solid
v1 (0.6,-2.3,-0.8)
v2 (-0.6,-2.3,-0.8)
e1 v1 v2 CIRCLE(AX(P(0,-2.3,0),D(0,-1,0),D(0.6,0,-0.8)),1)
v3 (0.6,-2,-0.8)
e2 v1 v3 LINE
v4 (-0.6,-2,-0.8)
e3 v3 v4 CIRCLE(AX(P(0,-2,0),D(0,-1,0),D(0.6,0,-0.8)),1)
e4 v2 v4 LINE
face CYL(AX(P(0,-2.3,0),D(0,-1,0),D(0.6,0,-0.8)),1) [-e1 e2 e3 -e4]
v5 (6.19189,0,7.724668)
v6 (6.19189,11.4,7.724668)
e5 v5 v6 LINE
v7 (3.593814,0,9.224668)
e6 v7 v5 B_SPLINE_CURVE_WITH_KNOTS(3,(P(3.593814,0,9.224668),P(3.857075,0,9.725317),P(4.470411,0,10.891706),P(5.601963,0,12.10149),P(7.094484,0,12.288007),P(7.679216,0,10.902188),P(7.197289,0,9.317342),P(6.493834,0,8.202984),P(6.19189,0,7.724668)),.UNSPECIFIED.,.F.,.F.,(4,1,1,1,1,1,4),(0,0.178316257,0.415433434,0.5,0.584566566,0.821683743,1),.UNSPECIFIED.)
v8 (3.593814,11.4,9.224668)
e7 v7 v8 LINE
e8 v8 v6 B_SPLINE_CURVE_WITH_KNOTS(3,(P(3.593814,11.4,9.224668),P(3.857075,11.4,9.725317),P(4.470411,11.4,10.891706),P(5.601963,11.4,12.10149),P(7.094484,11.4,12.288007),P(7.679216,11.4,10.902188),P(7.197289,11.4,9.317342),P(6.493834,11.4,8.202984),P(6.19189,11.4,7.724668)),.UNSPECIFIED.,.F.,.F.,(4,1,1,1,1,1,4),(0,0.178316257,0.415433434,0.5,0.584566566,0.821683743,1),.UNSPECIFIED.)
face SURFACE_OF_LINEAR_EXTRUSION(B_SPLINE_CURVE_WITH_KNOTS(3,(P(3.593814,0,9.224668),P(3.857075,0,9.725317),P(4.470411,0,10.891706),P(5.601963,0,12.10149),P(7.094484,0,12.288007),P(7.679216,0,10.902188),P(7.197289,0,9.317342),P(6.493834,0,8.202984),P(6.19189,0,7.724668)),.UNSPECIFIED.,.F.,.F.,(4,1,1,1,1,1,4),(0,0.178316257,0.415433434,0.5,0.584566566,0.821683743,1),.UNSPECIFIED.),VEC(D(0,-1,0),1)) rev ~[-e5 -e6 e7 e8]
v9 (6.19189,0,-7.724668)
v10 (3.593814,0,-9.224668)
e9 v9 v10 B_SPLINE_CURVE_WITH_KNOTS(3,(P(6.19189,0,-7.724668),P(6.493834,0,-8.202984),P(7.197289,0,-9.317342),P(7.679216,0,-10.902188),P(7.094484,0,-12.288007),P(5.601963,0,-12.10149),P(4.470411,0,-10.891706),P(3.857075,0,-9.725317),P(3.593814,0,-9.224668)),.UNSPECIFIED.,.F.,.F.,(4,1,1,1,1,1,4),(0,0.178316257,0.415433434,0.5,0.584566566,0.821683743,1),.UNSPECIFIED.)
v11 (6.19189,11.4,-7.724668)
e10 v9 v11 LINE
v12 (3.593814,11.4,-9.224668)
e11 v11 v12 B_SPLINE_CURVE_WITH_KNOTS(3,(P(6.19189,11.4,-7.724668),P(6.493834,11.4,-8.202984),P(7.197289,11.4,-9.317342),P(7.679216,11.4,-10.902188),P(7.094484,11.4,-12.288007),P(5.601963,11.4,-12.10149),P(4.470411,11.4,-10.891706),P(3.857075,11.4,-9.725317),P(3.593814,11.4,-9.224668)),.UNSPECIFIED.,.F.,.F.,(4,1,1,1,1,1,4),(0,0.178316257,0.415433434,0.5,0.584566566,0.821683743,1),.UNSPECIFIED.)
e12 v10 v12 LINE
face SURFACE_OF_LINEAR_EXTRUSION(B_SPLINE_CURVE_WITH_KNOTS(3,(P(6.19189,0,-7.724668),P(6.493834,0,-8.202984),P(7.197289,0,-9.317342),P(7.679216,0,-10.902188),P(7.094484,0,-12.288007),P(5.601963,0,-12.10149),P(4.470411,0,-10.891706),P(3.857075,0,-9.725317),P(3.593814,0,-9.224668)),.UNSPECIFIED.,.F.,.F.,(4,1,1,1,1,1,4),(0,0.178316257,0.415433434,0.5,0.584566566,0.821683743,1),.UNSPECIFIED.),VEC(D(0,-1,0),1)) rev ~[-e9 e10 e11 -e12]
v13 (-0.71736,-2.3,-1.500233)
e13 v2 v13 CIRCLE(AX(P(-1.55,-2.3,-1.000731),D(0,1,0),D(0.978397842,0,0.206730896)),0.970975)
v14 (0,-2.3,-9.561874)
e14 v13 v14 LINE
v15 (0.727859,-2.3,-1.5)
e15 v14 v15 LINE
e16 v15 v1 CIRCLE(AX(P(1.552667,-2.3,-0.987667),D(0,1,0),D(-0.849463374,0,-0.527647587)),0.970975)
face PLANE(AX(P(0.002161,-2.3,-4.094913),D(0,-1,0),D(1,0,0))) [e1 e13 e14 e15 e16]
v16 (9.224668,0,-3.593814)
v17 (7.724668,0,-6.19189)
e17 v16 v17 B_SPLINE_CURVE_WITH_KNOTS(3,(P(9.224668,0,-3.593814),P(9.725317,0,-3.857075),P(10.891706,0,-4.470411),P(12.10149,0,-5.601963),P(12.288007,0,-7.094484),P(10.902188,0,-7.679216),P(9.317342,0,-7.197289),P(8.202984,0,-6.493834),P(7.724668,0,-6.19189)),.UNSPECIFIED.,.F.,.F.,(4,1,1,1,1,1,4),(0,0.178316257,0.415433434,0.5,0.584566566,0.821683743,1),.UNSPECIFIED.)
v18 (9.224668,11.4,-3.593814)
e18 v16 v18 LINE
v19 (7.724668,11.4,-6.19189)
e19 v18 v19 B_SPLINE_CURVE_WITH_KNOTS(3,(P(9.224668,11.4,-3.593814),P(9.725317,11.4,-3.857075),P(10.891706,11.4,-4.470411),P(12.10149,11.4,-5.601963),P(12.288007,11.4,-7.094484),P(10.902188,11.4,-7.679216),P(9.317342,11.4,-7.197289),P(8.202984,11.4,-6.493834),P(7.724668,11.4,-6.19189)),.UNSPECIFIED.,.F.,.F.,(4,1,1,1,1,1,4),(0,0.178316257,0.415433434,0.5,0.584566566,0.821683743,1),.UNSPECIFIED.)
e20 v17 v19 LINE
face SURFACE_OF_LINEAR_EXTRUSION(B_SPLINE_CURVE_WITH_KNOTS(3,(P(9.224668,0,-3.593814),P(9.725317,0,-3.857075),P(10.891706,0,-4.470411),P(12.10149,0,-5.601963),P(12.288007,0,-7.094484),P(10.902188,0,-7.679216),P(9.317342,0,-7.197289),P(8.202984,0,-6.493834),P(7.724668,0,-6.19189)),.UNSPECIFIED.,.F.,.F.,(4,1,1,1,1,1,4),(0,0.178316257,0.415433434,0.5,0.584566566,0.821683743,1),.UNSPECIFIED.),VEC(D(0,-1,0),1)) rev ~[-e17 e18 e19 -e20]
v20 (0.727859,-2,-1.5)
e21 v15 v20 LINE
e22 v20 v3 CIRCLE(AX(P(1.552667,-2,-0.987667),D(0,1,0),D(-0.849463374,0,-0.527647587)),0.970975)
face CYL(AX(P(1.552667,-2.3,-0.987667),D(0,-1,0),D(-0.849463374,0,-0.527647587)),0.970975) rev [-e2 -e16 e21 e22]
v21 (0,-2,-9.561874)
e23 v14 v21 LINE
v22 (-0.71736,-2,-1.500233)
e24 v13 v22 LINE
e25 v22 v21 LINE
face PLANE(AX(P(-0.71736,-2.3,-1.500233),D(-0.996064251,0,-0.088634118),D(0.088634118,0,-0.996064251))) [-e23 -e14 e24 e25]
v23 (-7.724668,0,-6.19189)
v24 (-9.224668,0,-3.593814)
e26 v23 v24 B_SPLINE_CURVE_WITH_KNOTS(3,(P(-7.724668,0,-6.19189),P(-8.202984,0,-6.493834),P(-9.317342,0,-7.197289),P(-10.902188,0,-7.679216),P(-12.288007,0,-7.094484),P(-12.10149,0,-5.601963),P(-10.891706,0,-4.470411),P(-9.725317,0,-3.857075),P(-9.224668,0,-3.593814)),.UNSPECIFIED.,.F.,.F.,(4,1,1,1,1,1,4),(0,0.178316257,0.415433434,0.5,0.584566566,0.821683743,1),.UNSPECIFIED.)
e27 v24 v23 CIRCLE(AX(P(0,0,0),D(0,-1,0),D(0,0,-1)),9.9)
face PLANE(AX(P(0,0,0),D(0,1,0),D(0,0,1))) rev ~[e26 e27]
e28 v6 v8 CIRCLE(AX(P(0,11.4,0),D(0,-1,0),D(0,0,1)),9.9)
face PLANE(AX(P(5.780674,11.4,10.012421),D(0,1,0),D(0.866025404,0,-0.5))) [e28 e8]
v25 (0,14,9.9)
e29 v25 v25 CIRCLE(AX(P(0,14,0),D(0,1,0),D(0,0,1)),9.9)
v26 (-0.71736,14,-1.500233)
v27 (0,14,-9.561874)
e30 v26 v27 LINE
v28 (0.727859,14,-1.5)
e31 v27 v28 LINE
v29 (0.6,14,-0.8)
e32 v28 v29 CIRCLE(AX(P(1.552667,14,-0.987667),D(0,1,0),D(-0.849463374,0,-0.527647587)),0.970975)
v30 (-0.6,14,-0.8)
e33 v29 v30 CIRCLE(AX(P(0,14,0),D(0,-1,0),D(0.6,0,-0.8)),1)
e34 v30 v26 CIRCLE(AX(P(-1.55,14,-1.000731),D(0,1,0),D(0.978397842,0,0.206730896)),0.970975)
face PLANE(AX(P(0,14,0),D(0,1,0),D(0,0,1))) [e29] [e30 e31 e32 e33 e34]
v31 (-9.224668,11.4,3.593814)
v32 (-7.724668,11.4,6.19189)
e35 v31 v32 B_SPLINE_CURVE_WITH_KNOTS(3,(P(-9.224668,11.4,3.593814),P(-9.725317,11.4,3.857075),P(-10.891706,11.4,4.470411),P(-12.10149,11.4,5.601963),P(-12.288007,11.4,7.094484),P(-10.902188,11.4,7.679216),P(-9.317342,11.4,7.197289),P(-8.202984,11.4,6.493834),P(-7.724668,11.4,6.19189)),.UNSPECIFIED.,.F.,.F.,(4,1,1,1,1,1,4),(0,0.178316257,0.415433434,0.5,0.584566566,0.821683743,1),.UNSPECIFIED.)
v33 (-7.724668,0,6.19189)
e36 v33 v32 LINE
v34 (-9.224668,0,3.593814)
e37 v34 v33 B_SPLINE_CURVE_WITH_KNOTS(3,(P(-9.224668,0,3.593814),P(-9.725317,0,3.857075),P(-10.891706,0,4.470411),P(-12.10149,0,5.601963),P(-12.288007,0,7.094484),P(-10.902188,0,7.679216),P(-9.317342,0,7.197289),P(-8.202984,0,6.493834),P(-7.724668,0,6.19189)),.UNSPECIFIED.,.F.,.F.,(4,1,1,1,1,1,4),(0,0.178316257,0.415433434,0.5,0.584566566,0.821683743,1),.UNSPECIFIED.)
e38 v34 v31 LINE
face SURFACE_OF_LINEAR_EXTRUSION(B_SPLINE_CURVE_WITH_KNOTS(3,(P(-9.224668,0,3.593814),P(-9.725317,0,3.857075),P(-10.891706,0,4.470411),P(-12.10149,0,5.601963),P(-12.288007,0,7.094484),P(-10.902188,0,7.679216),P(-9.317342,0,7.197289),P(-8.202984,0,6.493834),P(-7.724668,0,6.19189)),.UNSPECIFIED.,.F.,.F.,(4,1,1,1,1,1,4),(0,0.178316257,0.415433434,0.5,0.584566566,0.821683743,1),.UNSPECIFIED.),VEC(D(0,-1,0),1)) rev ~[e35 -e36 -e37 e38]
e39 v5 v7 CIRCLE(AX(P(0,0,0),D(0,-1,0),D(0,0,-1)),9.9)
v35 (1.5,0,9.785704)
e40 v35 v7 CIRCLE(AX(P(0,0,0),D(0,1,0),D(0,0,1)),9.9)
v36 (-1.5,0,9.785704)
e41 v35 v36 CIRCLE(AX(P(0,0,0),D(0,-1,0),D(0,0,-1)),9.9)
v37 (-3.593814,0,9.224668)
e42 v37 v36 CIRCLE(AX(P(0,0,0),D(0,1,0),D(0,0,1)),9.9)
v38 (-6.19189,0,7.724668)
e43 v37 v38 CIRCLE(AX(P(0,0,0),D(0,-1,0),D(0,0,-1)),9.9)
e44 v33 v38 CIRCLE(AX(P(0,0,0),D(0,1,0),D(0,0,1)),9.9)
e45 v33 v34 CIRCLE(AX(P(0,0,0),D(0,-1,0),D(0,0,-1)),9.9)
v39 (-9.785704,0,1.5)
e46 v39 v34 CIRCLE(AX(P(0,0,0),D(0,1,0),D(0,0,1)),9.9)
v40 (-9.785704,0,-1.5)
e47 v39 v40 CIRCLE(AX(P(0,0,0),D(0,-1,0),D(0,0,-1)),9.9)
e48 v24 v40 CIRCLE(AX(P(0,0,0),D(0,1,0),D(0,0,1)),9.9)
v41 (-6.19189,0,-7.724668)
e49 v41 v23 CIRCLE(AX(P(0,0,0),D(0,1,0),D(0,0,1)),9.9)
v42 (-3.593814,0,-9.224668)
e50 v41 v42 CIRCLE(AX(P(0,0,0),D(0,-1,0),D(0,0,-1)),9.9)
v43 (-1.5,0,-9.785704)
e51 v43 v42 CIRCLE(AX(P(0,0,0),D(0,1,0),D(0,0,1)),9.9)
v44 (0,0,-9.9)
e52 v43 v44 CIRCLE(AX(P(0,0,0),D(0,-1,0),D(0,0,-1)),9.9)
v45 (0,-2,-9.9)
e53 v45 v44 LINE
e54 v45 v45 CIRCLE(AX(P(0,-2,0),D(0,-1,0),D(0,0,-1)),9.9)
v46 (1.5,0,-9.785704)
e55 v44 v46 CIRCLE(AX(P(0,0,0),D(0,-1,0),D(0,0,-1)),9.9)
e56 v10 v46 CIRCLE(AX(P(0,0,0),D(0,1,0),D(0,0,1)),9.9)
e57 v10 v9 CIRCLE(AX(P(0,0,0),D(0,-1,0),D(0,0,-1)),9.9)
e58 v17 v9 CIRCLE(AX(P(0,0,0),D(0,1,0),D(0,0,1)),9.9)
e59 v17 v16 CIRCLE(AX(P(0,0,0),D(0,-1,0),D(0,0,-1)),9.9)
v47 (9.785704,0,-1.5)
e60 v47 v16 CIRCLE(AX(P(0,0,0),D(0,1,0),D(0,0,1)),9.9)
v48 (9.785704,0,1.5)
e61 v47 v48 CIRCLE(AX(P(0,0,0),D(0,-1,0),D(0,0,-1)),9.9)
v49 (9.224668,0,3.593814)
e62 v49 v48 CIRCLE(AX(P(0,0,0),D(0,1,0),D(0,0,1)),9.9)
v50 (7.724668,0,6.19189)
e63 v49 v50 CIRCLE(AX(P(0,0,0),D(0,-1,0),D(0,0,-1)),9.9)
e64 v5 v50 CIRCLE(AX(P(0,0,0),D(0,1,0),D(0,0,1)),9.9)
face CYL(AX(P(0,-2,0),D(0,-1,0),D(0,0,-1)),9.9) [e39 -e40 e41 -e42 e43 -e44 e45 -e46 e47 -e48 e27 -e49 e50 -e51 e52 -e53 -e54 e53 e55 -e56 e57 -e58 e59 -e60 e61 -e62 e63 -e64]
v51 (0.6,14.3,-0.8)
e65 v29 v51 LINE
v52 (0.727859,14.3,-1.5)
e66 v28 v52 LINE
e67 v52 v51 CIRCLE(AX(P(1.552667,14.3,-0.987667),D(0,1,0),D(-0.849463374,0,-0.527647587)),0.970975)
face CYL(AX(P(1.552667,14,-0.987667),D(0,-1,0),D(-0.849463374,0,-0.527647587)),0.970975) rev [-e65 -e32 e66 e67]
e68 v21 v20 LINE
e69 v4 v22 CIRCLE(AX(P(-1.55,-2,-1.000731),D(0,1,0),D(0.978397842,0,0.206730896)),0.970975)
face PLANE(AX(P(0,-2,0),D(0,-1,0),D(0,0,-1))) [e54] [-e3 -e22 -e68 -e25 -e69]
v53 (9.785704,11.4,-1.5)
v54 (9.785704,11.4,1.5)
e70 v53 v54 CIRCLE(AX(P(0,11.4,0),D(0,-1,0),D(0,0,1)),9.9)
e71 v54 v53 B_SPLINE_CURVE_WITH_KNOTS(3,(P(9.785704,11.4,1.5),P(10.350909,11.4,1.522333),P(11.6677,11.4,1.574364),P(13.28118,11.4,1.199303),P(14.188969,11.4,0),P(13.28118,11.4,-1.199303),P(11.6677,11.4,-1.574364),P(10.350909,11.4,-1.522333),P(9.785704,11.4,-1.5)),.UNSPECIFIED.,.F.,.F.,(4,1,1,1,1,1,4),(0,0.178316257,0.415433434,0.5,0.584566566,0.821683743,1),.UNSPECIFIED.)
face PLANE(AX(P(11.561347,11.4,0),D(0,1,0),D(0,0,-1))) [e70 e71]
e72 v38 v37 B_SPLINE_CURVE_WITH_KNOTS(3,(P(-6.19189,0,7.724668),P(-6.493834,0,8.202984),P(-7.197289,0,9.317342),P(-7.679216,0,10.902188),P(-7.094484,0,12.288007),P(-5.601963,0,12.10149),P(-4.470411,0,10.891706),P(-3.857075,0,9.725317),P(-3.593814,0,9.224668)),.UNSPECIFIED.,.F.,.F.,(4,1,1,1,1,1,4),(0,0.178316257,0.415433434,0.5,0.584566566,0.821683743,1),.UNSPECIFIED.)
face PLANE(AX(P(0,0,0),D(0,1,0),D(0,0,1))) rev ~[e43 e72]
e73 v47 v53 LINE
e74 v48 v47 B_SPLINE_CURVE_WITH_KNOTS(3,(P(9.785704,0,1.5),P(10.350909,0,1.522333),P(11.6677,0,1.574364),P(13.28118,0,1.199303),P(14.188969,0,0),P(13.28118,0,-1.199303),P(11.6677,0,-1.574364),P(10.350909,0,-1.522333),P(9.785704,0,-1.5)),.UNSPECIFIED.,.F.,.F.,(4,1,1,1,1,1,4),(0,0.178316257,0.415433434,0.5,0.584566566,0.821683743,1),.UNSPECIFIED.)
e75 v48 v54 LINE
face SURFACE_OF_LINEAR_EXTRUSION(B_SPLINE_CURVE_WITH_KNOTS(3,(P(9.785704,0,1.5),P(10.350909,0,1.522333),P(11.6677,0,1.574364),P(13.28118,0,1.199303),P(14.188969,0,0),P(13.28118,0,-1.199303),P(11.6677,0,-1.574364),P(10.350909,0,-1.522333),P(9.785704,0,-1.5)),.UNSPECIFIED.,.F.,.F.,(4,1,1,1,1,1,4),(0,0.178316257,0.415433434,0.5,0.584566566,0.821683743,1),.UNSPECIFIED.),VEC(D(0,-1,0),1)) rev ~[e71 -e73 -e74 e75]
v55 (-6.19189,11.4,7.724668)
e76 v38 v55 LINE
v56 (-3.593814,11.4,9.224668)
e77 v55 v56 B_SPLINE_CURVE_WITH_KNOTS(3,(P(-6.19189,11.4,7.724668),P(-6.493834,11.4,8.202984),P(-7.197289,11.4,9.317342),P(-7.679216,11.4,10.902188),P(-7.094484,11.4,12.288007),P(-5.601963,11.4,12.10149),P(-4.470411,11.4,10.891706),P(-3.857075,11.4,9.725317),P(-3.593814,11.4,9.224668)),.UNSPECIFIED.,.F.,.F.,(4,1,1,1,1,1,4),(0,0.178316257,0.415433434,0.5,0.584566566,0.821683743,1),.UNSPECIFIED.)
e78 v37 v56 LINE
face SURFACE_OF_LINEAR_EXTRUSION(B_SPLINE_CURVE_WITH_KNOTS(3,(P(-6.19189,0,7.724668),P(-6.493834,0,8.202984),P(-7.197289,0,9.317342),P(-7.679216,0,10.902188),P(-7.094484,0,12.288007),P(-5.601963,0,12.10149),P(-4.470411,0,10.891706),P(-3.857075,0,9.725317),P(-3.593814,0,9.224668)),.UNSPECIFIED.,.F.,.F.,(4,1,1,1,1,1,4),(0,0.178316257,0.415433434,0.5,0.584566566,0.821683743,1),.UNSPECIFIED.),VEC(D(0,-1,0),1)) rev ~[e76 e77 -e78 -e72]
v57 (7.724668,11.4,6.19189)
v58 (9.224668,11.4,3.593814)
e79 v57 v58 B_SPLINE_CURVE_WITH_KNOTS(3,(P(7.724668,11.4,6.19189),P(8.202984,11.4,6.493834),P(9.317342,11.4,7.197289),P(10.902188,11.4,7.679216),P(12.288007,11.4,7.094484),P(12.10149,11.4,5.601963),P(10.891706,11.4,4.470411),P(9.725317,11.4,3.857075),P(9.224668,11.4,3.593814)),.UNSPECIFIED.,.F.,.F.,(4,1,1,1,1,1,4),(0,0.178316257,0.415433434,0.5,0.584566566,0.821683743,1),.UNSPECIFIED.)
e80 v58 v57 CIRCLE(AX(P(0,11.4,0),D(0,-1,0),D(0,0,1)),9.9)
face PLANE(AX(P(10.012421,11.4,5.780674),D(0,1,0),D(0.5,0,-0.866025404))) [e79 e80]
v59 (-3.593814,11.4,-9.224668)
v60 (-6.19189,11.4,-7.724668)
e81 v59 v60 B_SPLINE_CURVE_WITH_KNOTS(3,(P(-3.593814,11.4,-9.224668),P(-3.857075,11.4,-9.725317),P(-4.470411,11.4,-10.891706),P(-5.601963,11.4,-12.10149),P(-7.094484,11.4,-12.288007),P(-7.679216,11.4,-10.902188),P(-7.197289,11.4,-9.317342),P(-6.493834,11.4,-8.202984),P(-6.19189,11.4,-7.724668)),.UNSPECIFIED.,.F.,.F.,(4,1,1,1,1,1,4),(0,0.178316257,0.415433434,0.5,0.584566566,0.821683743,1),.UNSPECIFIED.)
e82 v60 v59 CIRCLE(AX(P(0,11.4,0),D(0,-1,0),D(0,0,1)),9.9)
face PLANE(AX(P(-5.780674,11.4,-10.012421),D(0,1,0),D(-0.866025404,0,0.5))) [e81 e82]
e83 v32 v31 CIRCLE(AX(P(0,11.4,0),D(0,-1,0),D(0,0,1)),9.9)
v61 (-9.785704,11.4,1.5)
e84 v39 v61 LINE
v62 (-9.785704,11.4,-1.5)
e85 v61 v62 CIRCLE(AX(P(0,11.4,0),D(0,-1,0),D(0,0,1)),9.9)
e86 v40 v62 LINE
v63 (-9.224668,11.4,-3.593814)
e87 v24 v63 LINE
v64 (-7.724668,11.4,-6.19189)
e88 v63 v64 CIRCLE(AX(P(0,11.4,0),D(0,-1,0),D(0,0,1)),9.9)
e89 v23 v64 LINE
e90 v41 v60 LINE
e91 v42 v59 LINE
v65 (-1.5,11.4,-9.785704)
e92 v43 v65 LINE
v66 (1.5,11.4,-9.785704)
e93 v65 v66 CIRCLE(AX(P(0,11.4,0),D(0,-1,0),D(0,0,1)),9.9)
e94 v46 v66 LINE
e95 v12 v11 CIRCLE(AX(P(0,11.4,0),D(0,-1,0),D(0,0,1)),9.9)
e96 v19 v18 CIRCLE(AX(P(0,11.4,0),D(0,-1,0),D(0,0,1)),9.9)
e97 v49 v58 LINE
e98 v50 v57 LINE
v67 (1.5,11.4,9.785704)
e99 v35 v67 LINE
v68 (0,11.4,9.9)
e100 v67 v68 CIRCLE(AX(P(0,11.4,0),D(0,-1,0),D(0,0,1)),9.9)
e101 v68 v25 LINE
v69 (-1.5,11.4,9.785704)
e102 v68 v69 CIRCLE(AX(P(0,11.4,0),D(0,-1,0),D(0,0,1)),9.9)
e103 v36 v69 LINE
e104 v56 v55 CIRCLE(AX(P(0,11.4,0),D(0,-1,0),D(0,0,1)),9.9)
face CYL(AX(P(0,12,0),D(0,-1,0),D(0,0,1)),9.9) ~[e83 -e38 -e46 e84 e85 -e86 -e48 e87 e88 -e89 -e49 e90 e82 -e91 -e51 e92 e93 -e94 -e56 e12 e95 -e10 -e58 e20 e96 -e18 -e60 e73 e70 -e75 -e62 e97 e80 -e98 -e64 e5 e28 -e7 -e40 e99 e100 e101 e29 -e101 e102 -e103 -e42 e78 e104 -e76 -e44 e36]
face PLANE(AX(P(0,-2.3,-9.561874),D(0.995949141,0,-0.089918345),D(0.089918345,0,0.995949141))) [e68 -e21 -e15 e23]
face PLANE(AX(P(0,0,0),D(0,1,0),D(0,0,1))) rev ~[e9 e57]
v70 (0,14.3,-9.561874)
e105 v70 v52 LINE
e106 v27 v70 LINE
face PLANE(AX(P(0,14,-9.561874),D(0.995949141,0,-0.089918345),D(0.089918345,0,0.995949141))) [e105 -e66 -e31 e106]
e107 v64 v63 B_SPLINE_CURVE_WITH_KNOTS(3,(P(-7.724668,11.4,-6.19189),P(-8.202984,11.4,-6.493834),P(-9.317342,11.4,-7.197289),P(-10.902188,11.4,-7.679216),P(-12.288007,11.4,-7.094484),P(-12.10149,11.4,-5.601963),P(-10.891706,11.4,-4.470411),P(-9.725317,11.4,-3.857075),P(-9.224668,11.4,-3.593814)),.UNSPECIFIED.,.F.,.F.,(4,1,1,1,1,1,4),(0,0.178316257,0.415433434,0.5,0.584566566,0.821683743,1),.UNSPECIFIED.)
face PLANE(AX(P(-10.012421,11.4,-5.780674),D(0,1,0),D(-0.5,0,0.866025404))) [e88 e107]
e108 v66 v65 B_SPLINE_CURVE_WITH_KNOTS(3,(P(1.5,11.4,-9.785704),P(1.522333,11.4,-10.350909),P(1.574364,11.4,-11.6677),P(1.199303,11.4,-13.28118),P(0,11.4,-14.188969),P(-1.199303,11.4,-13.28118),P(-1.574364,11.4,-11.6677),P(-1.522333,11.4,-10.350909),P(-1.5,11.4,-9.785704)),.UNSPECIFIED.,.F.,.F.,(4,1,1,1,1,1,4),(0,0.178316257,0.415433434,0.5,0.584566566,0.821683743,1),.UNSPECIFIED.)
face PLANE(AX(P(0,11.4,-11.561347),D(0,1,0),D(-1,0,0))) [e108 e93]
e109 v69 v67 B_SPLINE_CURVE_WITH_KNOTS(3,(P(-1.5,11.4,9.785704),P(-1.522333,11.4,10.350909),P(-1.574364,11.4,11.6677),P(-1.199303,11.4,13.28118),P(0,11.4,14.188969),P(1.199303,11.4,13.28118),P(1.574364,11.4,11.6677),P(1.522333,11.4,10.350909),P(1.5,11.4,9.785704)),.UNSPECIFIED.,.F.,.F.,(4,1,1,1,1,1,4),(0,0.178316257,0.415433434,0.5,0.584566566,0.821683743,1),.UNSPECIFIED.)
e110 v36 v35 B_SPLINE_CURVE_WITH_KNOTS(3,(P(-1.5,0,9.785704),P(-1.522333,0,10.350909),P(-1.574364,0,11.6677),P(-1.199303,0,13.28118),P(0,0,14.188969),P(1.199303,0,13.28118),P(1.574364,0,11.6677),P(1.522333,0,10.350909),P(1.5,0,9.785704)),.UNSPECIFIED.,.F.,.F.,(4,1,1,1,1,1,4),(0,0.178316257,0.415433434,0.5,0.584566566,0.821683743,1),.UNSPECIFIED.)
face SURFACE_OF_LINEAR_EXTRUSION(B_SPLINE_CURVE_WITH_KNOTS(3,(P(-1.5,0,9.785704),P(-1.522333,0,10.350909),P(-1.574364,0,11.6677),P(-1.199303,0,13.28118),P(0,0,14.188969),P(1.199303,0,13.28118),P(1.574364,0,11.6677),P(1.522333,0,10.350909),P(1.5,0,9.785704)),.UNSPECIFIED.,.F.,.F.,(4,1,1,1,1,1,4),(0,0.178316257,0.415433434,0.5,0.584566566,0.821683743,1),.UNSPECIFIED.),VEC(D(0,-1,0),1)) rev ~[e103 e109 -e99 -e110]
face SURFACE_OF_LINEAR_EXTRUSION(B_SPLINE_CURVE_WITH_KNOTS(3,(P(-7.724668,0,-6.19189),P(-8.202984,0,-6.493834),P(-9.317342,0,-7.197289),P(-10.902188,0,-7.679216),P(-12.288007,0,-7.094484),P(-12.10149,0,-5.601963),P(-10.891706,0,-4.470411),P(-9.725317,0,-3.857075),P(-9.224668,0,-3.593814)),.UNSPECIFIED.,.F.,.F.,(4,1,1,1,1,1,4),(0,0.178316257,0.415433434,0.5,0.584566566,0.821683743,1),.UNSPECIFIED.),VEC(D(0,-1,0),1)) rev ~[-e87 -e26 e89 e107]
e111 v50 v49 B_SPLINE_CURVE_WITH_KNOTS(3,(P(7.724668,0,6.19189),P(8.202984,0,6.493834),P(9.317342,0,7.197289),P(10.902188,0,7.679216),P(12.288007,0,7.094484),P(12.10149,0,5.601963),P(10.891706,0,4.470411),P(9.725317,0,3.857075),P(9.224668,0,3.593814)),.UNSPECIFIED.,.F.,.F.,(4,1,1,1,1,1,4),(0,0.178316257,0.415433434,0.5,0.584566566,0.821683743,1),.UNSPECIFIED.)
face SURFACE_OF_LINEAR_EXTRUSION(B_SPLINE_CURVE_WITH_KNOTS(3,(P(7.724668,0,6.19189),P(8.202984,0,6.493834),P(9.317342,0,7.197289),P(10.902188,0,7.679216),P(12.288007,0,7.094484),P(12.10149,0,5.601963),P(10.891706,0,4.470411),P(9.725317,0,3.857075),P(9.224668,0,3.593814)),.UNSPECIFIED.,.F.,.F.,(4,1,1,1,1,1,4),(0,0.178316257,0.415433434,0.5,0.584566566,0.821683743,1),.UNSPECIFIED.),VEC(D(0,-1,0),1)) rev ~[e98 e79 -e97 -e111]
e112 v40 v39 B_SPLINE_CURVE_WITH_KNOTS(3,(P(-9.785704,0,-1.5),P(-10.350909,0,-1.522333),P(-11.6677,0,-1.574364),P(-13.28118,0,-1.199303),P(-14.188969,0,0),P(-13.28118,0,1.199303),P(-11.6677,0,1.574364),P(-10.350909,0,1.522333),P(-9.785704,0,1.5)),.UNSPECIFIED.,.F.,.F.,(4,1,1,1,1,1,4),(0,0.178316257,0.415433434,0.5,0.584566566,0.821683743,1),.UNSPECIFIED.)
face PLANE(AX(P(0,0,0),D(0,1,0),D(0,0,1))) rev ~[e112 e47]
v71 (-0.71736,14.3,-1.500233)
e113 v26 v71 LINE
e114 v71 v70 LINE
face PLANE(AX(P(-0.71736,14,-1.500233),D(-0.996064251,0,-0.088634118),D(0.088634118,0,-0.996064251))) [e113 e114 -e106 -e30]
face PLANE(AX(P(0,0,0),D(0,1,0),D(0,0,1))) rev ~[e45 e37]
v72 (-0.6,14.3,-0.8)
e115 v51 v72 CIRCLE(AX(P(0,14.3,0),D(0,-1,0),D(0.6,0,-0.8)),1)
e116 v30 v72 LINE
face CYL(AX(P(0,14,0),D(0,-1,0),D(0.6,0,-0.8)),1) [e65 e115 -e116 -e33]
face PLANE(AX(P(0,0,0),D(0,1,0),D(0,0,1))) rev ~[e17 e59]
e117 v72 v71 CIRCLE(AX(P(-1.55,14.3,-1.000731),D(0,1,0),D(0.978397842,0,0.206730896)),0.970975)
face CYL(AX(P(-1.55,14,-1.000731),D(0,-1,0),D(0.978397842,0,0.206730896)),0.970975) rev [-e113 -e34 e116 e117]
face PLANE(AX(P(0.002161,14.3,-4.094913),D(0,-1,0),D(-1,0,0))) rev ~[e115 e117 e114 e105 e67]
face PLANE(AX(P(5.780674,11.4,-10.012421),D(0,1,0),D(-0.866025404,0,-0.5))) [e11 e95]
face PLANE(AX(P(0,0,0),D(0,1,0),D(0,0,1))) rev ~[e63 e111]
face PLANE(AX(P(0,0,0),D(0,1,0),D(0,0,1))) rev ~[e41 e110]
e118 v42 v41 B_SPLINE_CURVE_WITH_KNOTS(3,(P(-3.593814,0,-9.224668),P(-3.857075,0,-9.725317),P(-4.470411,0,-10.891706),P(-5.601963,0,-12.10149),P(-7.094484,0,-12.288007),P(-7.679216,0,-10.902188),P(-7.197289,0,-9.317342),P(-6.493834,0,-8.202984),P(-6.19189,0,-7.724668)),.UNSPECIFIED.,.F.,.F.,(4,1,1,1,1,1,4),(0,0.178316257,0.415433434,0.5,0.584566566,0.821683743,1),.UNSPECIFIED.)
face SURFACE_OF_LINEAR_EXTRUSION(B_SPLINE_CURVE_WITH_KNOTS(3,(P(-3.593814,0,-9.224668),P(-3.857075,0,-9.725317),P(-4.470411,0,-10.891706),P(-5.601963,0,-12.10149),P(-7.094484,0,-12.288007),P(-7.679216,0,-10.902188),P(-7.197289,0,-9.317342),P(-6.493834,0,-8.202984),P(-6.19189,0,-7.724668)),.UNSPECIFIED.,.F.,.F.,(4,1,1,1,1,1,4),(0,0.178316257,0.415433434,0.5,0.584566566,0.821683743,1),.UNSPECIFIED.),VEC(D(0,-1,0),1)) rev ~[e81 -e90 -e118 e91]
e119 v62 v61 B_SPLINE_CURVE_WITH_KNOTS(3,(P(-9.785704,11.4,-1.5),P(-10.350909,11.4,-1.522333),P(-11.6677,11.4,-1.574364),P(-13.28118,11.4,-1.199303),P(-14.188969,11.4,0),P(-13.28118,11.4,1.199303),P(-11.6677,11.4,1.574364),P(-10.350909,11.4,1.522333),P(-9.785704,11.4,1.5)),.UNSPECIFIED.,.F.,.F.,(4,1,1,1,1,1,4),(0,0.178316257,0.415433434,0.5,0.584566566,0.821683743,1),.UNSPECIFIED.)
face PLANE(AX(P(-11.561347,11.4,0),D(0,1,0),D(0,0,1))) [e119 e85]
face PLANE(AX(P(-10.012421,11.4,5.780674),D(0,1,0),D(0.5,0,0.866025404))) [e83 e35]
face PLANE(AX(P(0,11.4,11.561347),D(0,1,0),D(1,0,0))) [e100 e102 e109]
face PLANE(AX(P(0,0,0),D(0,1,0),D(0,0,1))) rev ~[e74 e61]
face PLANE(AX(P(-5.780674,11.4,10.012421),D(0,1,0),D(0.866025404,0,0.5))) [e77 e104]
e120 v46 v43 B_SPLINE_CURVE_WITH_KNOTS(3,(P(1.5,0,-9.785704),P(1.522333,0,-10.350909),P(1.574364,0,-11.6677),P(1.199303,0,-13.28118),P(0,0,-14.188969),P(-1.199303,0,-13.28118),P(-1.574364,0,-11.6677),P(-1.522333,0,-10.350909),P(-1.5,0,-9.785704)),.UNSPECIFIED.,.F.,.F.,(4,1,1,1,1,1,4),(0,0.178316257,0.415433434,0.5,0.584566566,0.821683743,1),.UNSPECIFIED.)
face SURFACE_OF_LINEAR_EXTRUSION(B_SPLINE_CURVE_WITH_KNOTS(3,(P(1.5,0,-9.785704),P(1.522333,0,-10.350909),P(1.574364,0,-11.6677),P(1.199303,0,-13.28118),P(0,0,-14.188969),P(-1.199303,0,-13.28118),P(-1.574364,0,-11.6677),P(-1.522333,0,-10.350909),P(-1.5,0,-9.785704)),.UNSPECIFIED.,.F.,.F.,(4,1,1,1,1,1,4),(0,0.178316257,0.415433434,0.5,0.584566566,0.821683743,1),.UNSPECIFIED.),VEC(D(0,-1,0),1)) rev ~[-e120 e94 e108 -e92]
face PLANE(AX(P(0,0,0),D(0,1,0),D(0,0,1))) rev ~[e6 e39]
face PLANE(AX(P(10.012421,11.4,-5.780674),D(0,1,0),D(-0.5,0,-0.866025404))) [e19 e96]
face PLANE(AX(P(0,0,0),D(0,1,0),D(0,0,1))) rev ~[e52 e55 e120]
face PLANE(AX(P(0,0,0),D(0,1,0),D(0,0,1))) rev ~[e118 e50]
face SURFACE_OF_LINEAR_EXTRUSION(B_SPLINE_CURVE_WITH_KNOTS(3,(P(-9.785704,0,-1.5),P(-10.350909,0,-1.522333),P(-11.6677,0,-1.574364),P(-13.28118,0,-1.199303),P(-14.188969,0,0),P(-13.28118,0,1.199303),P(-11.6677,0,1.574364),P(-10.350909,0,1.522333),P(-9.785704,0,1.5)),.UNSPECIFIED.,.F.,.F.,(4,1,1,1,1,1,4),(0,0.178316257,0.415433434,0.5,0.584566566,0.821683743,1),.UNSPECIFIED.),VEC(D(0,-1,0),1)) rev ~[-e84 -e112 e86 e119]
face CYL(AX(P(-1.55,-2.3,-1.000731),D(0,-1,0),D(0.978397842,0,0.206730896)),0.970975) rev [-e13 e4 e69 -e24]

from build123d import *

# Parameters (mm, degrees)
SKETCH1_R           = 9.9
BOSS_EXTRUDE1_DEPTH = 12
SKETCH2_R           = 9.9
BOSS_EXTRUDE2_DEPTH = 2
BOSS_EXTRUDE3_DEPTH = 0.3
BOSS_EXTRUDE5_DEPTH = 11.4
CIRPATTERN1_COUNT   = 12
BOSS_EXTRUDE6_START = 2
SKETCH5_R           = 9.9
BOSS_EXTRUDE6_DEPTH = 2
BOSS_EXTRUDE7_START = 0.3
BOSS_EXTRUDE7_DEPTH = 0.3


with BuildPart() as part:
    # Sketch1 → Boss-Extrude1 (new body)
    with BuildSketch(Plane(origin=(0, 0, 0), x_dir=(1, 0, 0), z_dir=(0, 1, 0))):
        with Locations(Location((0, 0, 0), (0, 0, 270))):
            Circle(SKETCH1_R)
    extrude(amount=BOSS_EXTRUDE1_DEPTH)

    # Sketch2 → Boss-Extrude2 (add)
    with BuildSketch(Plane(origin=(0, 12, 0), x_dir=(1, 0, 0), z_dir=(0, 1, 0))):
        with Locations(Location((0, 0, 0), (0, 0, 270))):
            Circle(SKETCH2_R)
    extrude(amount=BOSS_EXTRUDE2_DEPTH)

    # Sketch3 → Boss-Extrude3 (add)
    with BuildSketch(Plane(origin=(0, 14, 0), x_dir=(1, 0, 0), z_dir=(0, 1, 0))):
        with BuildLine():
            Line((0, 9.561873975), (0.727858815, 1.5))
            ThreePointArc((0.727858815, 1.5), (0.597494474, 1.162134703), (0.6, 0.8))
            ThreePointArc((0.6, 0.8), (0, -1), (-0.6, 0.8))
            ThreePointArc((-0.6, 0.8), (-0.592381481, 1.161228328), (-0.71735976, 1.500233309))
            Line((-0.71735976, 1.500233309), (0, 9.561873975))
        make_face()
    extrude(amount=BOSS_EXTRUDE3_DEPTH)

    # Sketch4 → Boss-Extrude5 (add)
    with BuildSketch(Plane.XZ):
        with BuildLine():
            Line((-1.5, -9.785703858), (1.5, -9.785703858))
            add(Edge.make_bspline(
                [(1.5, -9.785703858), (1.52233311, -10.350909106), (1.574363817, -11.667699624), (1.199302648, -13.281179815), (0, -14.188968688), (-1.199302648, -13.281179815), (-1.574363817, -11.667699624), (-1.52233311, -10.350909106), (-1.5, -9.785703858)],
                knots=[0, 0, 0, 0, 0.178316257, 0.415433434, 0.5, 0.584566566, 0.821683743, 1, 1, 1, 1], degree=3))
        make_face()
    boss_extrude5 = extrude(amount=-BOSS_EXTRUDE5_DEPTH)

    # CirPattern1: Boss-Extrude5 ×12 about axis
    cirpattern1_axis = Axis((0, 0, 0), (0, 1, 0))
    for i in range(1, CIRPATTERN1_COUNT):
        add(boss_extrude5.rotate(cirpattern1_axis, i * 360 / CIRPATTERN1_COUNT))

    # Sketch5 → Boss-Extrude6 (add)
    with BuildSketch(Plane.XZ.offset(BOSS_EXTRUDE6_START)):
        with Locations(Location((0, 0, 0), (0, 0, 270))):
            Circle(SKETCH5_R)
    extrude(amount=-BOSS_EXTRUDE6_DEPTH)

    # Sketch6 → Boss-Extrude7 (add)
    with BuildSketch(Plane.XZ.offset(2).offset(BOSS_EXTRUDE7_START)):
        with BuildLine():
            Line((0, -9.561873975), (0.727858815, -1.5))
            ThreePointArc((0.727858815, -1.5), (0.597494474, -1.162134703), (0.6, -0.8))
            ThreePointArc((0.6, -0.8), (0, 1), (-0.6, -0.8))
            ThreePointArc((-0.6, -0.8), (-0.592381481, -1.161228328), (-0.71735976, -1.500233309))
            Line((-0.71735976, -1.500233309), (0, -9.561873975))
        make_face()
    extrude(amount=-BOSS_EXTRUDE7_DEPTH)


solid = part.part
